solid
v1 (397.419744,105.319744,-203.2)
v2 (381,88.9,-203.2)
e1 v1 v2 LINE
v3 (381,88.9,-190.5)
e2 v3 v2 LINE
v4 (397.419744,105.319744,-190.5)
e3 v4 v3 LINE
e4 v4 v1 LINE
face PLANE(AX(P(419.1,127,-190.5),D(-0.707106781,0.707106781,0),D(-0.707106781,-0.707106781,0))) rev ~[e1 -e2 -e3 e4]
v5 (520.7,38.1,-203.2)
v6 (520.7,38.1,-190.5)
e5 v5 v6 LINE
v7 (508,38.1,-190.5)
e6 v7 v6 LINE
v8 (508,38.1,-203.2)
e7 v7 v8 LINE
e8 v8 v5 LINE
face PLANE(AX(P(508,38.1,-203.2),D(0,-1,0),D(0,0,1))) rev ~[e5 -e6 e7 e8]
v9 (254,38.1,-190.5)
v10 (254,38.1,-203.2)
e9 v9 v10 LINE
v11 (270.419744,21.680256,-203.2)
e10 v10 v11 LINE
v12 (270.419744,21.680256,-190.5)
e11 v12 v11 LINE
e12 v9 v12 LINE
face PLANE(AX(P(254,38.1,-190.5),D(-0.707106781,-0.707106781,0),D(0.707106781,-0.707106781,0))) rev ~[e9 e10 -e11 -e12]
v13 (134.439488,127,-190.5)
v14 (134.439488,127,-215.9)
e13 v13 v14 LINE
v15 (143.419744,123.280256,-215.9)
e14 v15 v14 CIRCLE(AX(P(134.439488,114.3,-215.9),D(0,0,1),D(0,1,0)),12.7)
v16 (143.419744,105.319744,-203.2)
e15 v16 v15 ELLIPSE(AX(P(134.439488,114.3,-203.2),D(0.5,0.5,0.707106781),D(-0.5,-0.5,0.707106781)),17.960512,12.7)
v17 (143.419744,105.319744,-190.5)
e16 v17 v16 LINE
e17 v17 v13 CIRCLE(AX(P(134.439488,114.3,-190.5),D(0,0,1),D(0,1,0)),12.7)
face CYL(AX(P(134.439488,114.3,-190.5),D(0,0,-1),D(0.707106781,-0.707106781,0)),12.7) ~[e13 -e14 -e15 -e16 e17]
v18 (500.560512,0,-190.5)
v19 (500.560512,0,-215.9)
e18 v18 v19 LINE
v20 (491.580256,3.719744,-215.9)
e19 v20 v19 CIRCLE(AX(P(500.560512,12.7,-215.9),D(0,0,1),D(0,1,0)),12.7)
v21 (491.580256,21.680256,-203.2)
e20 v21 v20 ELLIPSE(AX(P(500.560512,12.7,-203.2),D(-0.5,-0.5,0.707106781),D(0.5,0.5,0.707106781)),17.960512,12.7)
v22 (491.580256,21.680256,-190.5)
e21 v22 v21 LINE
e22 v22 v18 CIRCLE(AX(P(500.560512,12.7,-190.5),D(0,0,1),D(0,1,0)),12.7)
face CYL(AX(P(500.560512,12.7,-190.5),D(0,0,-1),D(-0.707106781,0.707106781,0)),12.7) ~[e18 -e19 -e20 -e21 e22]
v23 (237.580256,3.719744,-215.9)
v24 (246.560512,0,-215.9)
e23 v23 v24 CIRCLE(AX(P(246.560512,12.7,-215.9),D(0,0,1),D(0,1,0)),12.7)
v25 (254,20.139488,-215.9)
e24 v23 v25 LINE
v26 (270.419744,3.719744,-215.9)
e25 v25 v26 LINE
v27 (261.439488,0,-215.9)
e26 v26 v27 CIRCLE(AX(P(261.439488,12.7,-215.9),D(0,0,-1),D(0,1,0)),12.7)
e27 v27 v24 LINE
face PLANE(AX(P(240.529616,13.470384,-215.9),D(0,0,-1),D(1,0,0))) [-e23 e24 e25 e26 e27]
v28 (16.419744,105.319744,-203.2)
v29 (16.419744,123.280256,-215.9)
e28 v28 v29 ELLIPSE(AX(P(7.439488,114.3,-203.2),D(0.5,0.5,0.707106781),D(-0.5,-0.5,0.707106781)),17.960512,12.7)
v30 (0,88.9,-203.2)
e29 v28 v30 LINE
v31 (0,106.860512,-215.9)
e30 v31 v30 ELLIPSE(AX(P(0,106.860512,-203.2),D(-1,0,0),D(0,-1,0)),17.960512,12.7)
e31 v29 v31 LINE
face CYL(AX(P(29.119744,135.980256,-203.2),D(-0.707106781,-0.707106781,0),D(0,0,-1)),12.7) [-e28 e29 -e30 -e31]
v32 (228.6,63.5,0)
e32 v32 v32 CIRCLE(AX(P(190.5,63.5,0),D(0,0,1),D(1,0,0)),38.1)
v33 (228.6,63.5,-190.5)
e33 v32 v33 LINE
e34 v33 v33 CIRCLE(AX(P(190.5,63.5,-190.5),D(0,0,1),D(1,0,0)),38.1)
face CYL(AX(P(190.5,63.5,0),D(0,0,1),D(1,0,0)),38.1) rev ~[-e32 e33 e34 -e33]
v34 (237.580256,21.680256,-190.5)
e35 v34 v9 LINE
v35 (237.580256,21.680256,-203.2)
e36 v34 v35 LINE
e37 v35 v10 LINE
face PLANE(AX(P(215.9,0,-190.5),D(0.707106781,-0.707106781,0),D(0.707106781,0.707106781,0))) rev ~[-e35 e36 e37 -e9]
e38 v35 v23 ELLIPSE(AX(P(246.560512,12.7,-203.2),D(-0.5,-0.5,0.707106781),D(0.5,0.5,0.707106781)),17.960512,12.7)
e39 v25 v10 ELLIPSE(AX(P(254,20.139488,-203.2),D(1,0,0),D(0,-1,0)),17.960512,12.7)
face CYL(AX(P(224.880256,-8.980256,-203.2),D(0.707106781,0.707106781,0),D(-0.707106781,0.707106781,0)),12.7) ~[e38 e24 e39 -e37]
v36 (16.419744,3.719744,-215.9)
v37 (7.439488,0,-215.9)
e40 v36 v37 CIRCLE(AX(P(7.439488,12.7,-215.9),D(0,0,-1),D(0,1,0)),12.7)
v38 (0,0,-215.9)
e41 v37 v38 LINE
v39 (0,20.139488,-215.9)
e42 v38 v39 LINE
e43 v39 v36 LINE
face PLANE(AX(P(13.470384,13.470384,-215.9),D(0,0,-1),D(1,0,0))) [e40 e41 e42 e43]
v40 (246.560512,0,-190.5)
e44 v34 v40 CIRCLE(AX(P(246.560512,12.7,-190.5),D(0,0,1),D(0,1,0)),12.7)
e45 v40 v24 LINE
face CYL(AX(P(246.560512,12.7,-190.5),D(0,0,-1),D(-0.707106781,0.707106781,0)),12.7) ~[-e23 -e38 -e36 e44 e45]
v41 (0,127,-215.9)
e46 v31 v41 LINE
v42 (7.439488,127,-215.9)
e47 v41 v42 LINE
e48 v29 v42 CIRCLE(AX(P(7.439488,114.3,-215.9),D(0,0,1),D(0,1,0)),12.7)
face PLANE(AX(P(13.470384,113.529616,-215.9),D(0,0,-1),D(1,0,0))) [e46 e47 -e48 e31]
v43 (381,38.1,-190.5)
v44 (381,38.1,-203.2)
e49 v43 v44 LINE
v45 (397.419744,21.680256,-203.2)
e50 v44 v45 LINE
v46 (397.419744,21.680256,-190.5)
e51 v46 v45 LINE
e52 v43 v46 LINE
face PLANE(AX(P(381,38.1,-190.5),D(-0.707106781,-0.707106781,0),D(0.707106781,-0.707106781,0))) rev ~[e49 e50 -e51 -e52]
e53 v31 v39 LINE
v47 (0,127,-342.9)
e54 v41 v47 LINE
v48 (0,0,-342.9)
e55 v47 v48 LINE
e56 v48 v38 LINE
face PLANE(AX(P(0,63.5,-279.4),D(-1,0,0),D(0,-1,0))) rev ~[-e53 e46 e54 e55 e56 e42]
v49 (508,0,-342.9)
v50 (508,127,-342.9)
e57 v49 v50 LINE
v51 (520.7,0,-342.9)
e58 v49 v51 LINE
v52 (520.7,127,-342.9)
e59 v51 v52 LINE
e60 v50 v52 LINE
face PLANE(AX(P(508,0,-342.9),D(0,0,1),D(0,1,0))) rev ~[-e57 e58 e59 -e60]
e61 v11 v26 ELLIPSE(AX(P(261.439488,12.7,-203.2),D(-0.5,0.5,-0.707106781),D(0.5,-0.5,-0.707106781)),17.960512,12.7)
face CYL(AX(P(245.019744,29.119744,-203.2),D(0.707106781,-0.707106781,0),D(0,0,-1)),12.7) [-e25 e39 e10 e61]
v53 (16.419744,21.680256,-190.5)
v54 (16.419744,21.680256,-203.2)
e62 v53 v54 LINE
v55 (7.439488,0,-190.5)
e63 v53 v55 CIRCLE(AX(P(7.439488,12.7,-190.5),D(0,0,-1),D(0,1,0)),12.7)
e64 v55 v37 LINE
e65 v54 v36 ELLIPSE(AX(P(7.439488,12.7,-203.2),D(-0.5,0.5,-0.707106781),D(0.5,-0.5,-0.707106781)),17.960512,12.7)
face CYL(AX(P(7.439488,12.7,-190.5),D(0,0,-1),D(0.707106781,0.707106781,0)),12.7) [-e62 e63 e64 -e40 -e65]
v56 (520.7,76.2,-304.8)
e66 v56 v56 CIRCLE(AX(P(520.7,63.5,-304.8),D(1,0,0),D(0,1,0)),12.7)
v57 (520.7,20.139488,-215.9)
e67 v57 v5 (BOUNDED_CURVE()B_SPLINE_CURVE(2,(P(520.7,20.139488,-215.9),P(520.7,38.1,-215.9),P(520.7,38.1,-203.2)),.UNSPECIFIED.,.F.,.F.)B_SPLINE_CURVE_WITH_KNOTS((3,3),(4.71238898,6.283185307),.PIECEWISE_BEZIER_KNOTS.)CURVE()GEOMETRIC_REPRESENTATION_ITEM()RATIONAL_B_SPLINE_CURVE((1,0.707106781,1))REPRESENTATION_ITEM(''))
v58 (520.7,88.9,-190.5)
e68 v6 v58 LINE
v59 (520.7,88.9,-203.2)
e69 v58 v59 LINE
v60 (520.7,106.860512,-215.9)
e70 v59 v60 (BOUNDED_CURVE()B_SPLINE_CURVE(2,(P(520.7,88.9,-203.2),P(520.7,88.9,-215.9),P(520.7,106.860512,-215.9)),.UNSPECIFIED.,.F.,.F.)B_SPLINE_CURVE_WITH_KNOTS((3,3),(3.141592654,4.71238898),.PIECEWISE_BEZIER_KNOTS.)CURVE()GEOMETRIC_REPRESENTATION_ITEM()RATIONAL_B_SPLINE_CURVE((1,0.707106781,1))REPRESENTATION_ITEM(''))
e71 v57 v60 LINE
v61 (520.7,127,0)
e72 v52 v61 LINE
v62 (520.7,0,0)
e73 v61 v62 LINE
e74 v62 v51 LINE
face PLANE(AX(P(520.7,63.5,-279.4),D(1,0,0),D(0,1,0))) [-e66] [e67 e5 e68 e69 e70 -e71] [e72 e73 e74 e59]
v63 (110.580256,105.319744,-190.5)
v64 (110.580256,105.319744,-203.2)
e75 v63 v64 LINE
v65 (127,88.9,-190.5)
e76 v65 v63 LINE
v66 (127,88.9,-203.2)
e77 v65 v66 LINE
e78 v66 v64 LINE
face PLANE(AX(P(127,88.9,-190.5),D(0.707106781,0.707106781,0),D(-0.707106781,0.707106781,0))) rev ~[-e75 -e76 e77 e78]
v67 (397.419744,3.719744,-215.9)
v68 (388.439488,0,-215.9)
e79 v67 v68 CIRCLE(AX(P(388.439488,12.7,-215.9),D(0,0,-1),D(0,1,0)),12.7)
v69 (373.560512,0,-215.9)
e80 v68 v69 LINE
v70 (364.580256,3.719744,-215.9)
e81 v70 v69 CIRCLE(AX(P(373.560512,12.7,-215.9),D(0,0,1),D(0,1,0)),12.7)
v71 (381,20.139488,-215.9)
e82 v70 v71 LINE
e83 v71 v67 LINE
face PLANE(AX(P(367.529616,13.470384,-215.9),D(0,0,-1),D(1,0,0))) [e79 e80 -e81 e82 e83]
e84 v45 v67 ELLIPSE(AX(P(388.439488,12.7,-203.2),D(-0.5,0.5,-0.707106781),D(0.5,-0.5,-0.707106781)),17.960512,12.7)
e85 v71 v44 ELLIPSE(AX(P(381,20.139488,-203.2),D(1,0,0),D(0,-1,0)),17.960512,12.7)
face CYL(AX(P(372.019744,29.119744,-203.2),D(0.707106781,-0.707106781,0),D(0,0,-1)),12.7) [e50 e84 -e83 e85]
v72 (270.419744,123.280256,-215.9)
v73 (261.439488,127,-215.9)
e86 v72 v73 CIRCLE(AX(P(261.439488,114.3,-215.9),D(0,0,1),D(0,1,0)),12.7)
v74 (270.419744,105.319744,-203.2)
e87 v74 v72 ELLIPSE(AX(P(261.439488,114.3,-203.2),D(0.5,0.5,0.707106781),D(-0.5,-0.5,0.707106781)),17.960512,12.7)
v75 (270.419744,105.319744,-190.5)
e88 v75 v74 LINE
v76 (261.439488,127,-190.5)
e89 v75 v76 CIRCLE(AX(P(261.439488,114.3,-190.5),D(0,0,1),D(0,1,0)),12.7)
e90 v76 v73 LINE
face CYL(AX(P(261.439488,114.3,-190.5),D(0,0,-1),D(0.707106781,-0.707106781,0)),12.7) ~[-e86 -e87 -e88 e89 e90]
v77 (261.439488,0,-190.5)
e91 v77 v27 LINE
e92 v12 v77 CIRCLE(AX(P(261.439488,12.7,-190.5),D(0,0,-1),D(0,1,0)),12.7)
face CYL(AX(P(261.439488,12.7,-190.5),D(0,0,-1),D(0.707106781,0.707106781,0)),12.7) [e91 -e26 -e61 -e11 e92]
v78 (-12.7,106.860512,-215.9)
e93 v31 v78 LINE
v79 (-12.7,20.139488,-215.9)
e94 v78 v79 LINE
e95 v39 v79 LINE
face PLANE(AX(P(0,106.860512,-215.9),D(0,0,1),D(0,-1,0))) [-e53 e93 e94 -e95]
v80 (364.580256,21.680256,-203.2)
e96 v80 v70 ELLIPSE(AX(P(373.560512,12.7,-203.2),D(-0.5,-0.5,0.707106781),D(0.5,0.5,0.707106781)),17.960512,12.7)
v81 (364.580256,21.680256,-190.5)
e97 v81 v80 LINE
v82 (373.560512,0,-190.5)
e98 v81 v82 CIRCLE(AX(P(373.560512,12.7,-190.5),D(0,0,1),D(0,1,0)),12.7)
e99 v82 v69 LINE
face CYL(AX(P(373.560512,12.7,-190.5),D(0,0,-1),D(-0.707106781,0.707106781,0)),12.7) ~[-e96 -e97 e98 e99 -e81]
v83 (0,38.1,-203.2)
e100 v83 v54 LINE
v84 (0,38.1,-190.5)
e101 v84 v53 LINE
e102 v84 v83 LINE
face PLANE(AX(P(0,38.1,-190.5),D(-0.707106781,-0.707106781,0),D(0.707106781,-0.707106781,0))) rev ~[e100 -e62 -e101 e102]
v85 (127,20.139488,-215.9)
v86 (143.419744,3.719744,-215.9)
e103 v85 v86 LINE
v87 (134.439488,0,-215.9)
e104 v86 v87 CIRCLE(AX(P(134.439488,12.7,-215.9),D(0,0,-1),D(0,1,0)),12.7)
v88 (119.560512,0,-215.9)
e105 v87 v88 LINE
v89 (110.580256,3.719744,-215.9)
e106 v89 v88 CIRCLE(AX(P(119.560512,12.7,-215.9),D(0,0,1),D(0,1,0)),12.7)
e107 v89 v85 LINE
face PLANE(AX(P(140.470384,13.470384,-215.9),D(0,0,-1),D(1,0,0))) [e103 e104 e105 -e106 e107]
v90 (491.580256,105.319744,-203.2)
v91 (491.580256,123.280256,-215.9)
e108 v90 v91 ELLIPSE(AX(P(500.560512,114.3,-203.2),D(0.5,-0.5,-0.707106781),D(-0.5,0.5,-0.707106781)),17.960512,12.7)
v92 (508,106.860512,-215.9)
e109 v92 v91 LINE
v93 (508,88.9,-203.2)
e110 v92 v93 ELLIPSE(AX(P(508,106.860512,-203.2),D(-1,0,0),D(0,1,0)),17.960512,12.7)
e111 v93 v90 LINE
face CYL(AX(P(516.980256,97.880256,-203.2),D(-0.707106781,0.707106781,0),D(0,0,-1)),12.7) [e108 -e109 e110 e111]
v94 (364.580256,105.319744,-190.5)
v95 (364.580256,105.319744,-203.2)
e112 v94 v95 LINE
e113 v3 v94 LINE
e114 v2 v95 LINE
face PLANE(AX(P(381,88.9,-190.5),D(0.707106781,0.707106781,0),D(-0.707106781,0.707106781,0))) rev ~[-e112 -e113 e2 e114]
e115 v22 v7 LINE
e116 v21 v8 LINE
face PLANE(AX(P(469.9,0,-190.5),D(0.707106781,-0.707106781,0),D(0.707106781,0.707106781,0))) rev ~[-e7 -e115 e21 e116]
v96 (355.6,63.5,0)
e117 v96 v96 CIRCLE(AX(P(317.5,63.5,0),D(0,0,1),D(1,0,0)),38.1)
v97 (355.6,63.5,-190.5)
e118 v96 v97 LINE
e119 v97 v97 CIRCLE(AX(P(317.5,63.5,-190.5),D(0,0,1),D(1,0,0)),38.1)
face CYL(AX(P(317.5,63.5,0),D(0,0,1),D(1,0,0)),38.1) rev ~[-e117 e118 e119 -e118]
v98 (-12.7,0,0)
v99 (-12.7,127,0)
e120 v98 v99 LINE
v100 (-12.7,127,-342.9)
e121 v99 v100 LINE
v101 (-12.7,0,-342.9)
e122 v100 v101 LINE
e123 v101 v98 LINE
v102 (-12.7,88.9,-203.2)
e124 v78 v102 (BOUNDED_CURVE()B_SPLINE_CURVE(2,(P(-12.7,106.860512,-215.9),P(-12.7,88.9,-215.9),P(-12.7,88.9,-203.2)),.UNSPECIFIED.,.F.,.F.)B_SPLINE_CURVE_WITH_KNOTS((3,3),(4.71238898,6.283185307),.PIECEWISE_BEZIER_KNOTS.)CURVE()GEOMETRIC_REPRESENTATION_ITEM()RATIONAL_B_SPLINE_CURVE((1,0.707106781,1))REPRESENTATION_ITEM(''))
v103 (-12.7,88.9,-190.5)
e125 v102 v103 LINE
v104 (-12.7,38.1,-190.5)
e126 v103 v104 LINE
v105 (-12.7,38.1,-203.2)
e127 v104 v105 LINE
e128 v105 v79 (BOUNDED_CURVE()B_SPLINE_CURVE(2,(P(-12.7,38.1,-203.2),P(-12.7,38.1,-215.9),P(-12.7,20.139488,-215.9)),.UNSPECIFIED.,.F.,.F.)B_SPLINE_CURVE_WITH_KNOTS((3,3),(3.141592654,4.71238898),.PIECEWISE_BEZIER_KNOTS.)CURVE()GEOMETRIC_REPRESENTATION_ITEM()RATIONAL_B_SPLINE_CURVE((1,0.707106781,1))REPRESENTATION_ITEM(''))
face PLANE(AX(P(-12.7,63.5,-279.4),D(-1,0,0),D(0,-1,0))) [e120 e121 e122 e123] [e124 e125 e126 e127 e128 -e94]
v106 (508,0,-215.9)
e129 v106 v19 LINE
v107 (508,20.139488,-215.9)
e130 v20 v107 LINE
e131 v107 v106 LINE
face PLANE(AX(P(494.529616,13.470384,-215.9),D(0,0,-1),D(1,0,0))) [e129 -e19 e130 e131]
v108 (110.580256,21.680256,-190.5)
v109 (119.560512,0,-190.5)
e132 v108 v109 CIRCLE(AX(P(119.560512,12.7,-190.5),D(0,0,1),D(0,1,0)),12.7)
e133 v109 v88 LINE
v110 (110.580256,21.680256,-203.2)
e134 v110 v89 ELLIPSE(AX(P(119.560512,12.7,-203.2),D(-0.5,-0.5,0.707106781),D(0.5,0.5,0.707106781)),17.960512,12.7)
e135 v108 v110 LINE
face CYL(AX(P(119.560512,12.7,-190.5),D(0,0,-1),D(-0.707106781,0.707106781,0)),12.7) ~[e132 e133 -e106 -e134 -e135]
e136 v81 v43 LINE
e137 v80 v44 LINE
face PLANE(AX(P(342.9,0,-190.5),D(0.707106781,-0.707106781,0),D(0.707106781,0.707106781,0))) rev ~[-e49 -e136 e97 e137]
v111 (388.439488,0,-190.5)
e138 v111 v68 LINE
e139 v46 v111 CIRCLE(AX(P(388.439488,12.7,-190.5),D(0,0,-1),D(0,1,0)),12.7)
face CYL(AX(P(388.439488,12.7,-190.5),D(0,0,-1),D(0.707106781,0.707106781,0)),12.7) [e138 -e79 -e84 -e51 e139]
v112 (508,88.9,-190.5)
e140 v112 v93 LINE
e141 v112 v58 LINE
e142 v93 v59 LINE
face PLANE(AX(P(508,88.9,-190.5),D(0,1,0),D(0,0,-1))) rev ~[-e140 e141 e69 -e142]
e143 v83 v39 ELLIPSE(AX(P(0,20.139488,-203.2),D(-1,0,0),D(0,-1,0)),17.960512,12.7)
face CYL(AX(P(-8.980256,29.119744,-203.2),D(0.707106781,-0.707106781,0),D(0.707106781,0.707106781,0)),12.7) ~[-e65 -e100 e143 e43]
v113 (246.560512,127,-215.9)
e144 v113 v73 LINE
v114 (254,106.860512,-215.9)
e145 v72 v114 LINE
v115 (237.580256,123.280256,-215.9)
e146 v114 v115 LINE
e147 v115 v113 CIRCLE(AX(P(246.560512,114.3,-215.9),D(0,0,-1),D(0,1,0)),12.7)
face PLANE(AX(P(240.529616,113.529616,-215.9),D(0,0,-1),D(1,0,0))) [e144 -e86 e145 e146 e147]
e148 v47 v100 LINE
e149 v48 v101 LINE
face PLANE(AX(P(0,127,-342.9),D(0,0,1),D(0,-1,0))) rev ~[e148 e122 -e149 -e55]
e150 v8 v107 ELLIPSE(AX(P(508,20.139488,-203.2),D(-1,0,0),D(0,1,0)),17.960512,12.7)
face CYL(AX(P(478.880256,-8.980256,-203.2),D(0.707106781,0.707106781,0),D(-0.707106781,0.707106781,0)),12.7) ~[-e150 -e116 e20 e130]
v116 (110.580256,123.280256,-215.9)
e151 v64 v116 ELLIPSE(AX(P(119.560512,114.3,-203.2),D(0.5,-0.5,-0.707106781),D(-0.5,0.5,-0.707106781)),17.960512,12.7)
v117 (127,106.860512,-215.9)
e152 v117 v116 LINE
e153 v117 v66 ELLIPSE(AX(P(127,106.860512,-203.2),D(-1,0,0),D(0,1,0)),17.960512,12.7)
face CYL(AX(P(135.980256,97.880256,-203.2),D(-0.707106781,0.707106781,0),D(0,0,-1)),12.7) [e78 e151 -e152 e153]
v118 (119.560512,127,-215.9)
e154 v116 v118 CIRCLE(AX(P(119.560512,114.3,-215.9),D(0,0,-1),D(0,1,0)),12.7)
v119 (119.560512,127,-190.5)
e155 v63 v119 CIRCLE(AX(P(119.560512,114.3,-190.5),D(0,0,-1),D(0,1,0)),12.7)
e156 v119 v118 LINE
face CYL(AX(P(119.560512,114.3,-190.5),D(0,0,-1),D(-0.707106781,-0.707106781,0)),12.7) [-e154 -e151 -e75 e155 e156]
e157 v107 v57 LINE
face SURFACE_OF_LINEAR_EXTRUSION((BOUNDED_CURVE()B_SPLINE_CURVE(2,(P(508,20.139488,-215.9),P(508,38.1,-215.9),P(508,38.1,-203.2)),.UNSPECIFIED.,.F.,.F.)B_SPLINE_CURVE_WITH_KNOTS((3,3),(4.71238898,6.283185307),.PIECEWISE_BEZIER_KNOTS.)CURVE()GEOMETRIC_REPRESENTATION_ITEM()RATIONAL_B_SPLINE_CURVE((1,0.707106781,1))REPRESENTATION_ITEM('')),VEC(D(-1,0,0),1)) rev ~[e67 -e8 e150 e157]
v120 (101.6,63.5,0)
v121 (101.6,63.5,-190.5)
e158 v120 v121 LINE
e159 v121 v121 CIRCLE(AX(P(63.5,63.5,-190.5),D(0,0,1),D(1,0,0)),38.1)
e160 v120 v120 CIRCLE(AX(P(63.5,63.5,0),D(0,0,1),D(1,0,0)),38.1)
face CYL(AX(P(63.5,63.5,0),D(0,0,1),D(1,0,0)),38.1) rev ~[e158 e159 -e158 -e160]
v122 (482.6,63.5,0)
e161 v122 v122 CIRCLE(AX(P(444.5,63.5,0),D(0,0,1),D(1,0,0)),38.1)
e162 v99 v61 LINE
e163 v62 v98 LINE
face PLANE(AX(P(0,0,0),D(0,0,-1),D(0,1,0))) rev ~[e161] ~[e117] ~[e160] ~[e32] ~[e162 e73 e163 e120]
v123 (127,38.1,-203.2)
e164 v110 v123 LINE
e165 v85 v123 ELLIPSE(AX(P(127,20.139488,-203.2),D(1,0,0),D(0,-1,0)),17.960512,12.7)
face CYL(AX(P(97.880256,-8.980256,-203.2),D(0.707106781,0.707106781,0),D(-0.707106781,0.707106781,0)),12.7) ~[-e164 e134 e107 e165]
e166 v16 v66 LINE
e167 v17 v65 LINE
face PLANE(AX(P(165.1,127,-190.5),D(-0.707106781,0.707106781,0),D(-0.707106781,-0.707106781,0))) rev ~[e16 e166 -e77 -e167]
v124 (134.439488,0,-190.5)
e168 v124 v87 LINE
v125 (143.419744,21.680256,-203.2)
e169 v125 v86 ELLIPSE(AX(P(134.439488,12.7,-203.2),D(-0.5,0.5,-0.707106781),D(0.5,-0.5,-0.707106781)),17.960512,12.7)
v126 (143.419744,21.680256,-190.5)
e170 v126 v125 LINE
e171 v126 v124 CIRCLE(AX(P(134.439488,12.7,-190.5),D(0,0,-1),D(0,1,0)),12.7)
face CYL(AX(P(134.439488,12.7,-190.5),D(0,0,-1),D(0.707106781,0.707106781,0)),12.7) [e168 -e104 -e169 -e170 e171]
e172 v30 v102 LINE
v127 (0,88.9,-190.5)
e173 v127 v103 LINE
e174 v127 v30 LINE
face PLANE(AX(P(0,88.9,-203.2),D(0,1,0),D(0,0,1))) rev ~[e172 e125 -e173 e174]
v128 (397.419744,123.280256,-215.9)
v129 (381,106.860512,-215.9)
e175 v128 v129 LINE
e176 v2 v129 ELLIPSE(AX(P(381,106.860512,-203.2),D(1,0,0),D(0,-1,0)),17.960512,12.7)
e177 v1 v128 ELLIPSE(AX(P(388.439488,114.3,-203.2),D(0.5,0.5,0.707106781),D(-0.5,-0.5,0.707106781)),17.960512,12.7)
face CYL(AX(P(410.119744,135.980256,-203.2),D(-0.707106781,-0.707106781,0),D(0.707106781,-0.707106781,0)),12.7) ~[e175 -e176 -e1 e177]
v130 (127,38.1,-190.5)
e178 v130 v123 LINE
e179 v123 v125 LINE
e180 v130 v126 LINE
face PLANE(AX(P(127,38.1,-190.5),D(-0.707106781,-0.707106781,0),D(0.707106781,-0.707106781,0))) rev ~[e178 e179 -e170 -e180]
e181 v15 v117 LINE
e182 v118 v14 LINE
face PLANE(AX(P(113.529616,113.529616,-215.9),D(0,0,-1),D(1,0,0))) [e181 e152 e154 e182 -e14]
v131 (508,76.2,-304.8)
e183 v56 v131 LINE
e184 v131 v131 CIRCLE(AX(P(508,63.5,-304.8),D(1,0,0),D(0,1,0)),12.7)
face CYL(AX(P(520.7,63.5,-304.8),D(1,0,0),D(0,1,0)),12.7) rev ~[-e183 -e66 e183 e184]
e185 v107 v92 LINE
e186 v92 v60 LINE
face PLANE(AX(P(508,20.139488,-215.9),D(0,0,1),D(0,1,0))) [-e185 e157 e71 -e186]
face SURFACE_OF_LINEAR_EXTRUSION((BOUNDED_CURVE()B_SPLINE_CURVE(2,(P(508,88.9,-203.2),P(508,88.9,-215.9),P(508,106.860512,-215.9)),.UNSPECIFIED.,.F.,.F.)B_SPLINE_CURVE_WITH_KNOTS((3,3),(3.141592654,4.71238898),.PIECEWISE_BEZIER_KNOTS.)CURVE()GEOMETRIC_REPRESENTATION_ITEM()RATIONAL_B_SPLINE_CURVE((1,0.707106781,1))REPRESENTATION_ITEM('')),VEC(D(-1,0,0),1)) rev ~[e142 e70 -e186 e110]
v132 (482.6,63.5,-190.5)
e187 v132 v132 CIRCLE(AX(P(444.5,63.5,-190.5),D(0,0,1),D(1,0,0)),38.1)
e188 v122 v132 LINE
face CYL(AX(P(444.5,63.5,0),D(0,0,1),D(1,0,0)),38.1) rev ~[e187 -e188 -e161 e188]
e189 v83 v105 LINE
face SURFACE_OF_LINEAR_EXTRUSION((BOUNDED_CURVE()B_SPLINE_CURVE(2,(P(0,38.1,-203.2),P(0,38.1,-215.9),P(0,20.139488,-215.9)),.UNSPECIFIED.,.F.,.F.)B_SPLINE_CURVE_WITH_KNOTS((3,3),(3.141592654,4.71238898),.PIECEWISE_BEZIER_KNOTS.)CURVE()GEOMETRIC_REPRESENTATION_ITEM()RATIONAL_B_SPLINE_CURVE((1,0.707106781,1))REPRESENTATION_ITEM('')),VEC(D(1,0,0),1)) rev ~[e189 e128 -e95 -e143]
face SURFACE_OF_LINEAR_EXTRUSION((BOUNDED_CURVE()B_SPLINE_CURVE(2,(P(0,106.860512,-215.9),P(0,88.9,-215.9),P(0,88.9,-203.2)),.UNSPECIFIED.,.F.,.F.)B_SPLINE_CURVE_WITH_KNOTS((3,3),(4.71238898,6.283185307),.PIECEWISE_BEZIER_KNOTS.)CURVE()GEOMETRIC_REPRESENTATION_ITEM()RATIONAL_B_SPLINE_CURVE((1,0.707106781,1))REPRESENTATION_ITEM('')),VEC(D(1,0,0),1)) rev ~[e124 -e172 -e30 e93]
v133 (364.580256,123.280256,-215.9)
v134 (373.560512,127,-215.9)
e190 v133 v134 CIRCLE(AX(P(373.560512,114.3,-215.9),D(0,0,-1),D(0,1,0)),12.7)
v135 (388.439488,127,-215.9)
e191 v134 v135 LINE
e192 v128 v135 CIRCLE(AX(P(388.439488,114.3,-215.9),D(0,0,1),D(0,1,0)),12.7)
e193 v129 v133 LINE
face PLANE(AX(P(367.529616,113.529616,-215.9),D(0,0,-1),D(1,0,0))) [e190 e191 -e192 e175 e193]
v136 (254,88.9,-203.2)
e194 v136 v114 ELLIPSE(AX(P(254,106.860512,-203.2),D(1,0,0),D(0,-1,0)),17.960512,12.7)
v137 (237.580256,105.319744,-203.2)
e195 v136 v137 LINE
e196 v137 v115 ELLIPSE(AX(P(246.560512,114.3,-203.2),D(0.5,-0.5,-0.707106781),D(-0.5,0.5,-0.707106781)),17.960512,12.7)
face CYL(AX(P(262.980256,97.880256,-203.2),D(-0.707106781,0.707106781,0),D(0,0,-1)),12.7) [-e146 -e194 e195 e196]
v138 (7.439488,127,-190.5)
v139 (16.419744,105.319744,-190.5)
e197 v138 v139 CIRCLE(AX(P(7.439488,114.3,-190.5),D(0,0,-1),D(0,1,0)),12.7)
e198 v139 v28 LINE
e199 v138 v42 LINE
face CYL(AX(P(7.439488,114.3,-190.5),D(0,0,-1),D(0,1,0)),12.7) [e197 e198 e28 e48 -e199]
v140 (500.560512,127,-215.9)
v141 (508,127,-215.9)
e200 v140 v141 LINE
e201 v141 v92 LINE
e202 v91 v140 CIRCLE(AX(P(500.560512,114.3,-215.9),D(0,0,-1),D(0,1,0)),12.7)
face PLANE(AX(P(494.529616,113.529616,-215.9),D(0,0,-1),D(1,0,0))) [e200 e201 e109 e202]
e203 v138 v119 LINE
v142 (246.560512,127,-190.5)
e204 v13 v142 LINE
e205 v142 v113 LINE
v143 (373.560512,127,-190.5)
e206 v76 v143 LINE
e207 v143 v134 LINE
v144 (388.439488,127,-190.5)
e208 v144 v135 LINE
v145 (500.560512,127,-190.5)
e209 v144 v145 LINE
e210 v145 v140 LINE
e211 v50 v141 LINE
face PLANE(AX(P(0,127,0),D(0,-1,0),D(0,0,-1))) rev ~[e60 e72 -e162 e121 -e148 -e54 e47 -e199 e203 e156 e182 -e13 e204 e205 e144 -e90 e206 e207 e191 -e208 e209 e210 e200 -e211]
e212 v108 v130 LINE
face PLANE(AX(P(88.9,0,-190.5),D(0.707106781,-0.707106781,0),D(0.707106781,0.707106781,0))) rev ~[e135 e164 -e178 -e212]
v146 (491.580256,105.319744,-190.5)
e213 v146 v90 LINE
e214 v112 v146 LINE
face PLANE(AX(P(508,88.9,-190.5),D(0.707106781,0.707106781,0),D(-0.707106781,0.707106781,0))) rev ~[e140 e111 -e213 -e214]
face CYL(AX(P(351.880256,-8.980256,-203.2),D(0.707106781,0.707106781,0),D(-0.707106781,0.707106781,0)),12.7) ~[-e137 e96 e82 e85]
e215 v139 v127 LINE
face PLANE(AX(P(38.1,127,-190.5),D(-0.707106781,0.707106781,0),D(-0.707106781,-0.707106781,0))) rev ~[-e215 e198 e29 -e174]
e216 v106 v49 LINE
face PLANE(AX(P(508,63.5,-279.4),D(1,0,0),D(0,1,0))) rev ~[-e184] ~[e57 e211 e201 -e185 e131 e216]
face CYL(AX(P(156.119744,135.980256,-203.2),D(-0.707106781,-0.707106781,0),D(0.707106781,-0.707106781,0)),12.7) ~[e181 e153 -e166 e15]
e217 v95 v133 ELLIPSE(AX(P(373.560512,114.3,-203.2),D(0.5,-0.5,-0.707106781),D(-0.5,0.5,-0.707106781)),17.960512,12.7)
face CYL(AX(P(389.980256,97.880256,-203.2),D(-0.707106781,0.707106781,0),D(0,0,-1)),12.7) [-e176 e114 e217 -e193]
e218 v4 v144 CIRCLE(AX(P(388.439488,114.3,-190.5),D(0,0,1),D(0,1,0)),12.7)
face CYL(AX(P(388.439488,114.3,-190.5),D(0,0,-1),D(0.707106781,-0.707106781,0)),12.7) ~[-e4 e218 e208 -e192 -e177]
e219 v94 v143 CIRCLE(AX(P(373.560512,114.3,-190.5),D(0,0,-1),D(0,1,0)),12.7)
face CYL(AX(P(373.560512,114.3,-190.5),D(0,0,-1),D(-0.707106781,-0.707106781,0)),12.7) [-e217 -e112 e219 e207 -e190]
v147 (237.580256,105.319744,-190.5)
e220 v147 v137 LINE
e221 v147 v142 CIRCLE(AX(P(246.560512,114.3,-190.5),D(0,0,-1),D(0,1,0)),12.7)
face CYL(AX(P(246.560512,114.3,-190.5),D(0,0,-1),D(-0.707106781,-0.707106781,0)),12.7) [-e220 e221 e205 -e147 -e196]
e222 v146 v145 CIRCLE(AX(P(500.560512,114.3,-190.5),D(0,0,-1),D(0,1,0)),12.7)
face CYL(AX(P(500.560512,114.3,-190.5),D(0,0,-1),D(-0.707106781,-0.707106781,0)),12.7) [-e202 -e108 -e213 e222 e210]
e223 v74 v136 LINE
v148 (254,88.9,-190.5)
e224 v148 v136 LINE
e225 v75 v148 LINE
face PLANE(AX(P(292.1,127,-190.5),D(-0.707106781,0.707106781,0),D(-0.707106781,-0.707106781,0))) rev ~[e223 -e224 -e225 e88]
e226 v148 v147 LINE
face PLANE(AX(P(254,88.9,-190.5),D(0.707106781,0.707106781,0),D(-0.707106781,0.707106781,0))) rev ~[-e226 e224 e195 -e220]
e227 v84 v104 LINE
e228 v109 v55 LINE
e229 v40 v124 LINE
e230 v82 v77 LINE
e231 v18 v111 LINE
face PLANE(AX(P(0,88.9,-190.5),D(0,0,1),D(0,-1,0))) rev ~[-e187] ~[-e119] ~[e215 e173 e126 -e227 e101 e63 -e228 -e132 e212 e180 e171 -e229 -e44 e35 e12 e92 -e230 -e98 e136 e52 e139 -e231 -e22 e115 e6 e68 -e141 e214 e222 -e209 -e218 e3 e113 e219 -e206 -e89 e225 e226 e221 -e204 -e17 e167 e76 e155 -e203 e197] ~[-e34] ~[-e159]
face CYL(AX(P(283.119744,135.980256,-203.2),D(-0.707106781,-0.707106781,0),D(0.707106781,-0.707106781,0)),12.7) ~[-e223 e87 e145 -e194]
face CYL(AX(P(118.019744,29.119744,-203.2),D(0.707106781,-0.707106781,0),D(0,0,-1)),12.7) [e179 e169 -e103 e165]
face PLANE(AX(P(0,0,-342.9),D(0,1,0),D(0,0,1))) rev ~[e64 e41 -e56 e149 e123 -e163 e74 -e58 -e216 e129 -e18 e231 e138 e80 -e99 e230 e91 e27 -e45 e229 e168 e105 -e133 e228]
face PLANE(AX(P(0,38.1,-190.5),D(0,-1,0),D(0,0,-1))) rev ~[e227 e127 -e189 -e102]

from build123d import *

# Parameters (mm, degrees)
F0_W      = 508
F0_H      = 127
F0_R      = 38.1
F1_DEPTH  = 190.5
F3_DEPTH  = 25.4
F4_R      = 12.7
F5_W      = 127
F5_H      = 127
F6_DEPTH  = 12.7
F7_W      = 127
F7_H      = 127
F8_DEPTH  = 12.7
F9_R      = 12.7
F10_DEPTH = 25.4


with BuildPart() as f1:
    # F0 (on Top) → F1 (new body)
    with BuildSketch(Plane.XY):
        with Locations((254, 63.5)):
            Rectangle(F0_W, F0_H)
        with Locations((63.5, 63.5)):
            Circle(F0_R, mode=Mode.SUBTRACT)
        with Locations((190.5, 63.5)):
            Circle(F0_R, mode=Mode.SUBTRACT)
        with Locations((317.5, 63.5)):
            Circle(F0_R, mode=Mode.SUBTRACT)
        with Locations((444.5, 63.5)):
            Circle(F0_R, mode=Mode.SUBTRACT)
    extrude(amount=-F1_DEPTH)

    # F2 (on face) → F3 (join)
    with BuildSketch(Plane(origin=(0, 0, -190.5), x_dir=(1, 0, 0), z_dir=(0, 0, -1))):
        Polygon((254, 0), (215.9, 0), (254, -38.1), align=None)
        Polygon((254, 0), (254, -38.1), (292.1, 0), align=None)
        Polygon((254, -127), (254, -88.9), (215.9, -127), align=None)
        Polygon((292.1, -127), (254, -88.9), (254, -127), align=None)
        Polygon((127, 0), (127, -38.1), (165.1, 0), align=None)
        Polygon((127, 0), (88.9, 0), (127, -38.1), align=None)
        Polygon((127, -88.9), (88.9, -127), (127, -127), align=None)
        Polygon((165.1, -127), (127, -88.9), (127, -127), align=None)
        Polygon((0, -38.1), (38.1, 0), (0, 0), align=None)
        Polygon((38.1, -127), (0, -88.9), (0, -127), align=None)
        Polygon((381, 0), (342.9, 0), (381, -38.1), align=None)
        Polygon((381, 0), (381, -38.1), (419.1, 0), align=None)
        Polygon((508, 0), (469.9, 0), (508, -38.1), align=None)
        Polygon((508, -88.9), (469.9, -127), (508, -127), align=None)
        Polygon((381, -88.9), (342.9, -127), (381, -127), align=None)
        Polygon((419.1, -127), (381, -88.9), (381, -127), align=None)
    extrude(amount=F3_DEPTH)

    # F4
    f4_edges = [f1.edges().sort_by_distance(p)[0] for p in [
        (400.05, 19.05, -215.9),
        (361.95, 19.05, -215.9),
        (488.95, 19.05, -215.9),
        (488.95, 107.95, -215.9),
        (400.05, 107.95, -215.9),
        (361.95, 107.95, -215.9),
        (273.05, 19.05, -215.9),
        (273.05, 107.95, -215.9),
        (234.95, 107.95, -215.9),
        (234.95, 19.05, -215.9),
        (146.05, 19.05, -215.9),
        (107.95, 19.05, -215.9),
        (107.95, 107.95, -215.9),
        (146.05, 107.95, -215.9),
        (19.05, 19.05, -215.9),
        (19.05, 107.95, -215.9),
        (292.1, 0, -203.2),
        (215.9, 0, -203.2),
        (292.1, 127, -203.2),
        (215.9, 127, -203.2),
        (342.9, 127, -203.2),
        (419.1, 127, -203.2),
        (469.9, 127, -203.2),
        (469.9, 0, -203.2),
        (419.1, 0, -203.2),
        (342.9, 0, -203.2),
        (88.9, 0, -203.2),
        (165.1, 0, -203.2),
        (88.9, 127, -203.2),
        (165.1, 127, -203.2),
        (38.1, 127, -203.2),
        (38.1, 0, -203.2),
    ]]
    fillet(f4_edges, radius=F4_R)

    # F5 (on face) → F6 (join)
    with BuildSketch(Plane.YZ.offset(508)):
        with Locations((63.5, -279.4)):
            Rectangle(F5_W, F5_H)
        with BuildLine():
            Line((106.8605122421, -215.9), (127, -215.9))
            Line((127, -215.9), (127, 0))
            Line((127, 0), (0, 0))
            Line((0, 0), (0, -215.9))
            Line((0, -215.9), (20.1394877579, -215.9))
            add(Edge.make_bspline(
                [(20.1394877579, -215.9), (38.1, -215.9), (38.1, -203.2)],
                knots=[4.7123889804, 4.7123889804, 4.7123889804, 6.2831853072, 6.2831853072, 6.2831853072], degree=2, weights=[1, 0.7071067812, 1]))
            Line((38.1, -203.2), (38.1, -190.5))
            Line((38.1, -190.5), (88.9, -190.5))
            Line((88.9, -190.5), (88.9, -203.2))
            add(Edge.make_bspline(
                [(88.9, -203.2), (88.9, -215.9), (106.8605122421, -215.9)],
                knots=[3.1415926536, 3.1415926536, 3.1415926536, 4.7123889804, 4.7123889804, 4.7123889804], degree=2, weights=[1, 0.7071067812, 1]))
        make_face()
    extrude(amount=F6_DEPTH)

    # F7 (on face) → F8 (join)
    with BuildSketch(Plane(origin=(0, 0, 0), x_dir=(0, -1, 0), z_dir=(-1, 0, 0))):
        with Locations((-63.5, -279.4)):
            Rectangle(F7_W, F7_H)
        with BuildLine():
            Line((-20.1394877579, -215.9), (0, -215.9))
            Line((0, -215.9), (0, 0))
            Line((0, 0), (-127, 0))
            Line((-127, 0), (-127, -215.9))
            Line((-127, -215.9), (-106.8605122421, -215.9))
            add(Edge.make_bspline(
                [(-106.8605122421, -215.9), (-88.9, -215.9), (-88.9, -203.2)],
                knots=[4.7123889804, 4.7123889804, 4.7123889804, 6.2831853072, 6.2831853072, 6.2831853072], degree=2, weights=[1, 0.7071067812, 1]))
            Line((-88.9, -203.2), (-88.9, -190.5))
            Line((-88.9, -190.5), (-38.1, -190.5))
            Line((-38.1, -190.5), (-38.1, -203.2))
            add(Edge.make_bspline(
                [(-38.1, -203.2), (-38.1, -215.9), (-20.1394877579, -215.9)],
                knots=[3.1415926536, 3.1415926536, 3.1415926536, 4.7123889804, 4.7123889804, 4.7123889804], degree=2, weights=[1, 0.7071067812, 1]))
        make_face()
    extrude(amount=F8_DEPTH)

    # F9 (on face) → F10 (cut)
    with BuildSketch(Plane.YZ.offset(520.7)):
        with Locations((63.5, -304.8)):
            Circle(F9_R)
    extrude(amount=-F10_DEPTH, mode=Mode.SUBTRACT)


solid = f1.part
